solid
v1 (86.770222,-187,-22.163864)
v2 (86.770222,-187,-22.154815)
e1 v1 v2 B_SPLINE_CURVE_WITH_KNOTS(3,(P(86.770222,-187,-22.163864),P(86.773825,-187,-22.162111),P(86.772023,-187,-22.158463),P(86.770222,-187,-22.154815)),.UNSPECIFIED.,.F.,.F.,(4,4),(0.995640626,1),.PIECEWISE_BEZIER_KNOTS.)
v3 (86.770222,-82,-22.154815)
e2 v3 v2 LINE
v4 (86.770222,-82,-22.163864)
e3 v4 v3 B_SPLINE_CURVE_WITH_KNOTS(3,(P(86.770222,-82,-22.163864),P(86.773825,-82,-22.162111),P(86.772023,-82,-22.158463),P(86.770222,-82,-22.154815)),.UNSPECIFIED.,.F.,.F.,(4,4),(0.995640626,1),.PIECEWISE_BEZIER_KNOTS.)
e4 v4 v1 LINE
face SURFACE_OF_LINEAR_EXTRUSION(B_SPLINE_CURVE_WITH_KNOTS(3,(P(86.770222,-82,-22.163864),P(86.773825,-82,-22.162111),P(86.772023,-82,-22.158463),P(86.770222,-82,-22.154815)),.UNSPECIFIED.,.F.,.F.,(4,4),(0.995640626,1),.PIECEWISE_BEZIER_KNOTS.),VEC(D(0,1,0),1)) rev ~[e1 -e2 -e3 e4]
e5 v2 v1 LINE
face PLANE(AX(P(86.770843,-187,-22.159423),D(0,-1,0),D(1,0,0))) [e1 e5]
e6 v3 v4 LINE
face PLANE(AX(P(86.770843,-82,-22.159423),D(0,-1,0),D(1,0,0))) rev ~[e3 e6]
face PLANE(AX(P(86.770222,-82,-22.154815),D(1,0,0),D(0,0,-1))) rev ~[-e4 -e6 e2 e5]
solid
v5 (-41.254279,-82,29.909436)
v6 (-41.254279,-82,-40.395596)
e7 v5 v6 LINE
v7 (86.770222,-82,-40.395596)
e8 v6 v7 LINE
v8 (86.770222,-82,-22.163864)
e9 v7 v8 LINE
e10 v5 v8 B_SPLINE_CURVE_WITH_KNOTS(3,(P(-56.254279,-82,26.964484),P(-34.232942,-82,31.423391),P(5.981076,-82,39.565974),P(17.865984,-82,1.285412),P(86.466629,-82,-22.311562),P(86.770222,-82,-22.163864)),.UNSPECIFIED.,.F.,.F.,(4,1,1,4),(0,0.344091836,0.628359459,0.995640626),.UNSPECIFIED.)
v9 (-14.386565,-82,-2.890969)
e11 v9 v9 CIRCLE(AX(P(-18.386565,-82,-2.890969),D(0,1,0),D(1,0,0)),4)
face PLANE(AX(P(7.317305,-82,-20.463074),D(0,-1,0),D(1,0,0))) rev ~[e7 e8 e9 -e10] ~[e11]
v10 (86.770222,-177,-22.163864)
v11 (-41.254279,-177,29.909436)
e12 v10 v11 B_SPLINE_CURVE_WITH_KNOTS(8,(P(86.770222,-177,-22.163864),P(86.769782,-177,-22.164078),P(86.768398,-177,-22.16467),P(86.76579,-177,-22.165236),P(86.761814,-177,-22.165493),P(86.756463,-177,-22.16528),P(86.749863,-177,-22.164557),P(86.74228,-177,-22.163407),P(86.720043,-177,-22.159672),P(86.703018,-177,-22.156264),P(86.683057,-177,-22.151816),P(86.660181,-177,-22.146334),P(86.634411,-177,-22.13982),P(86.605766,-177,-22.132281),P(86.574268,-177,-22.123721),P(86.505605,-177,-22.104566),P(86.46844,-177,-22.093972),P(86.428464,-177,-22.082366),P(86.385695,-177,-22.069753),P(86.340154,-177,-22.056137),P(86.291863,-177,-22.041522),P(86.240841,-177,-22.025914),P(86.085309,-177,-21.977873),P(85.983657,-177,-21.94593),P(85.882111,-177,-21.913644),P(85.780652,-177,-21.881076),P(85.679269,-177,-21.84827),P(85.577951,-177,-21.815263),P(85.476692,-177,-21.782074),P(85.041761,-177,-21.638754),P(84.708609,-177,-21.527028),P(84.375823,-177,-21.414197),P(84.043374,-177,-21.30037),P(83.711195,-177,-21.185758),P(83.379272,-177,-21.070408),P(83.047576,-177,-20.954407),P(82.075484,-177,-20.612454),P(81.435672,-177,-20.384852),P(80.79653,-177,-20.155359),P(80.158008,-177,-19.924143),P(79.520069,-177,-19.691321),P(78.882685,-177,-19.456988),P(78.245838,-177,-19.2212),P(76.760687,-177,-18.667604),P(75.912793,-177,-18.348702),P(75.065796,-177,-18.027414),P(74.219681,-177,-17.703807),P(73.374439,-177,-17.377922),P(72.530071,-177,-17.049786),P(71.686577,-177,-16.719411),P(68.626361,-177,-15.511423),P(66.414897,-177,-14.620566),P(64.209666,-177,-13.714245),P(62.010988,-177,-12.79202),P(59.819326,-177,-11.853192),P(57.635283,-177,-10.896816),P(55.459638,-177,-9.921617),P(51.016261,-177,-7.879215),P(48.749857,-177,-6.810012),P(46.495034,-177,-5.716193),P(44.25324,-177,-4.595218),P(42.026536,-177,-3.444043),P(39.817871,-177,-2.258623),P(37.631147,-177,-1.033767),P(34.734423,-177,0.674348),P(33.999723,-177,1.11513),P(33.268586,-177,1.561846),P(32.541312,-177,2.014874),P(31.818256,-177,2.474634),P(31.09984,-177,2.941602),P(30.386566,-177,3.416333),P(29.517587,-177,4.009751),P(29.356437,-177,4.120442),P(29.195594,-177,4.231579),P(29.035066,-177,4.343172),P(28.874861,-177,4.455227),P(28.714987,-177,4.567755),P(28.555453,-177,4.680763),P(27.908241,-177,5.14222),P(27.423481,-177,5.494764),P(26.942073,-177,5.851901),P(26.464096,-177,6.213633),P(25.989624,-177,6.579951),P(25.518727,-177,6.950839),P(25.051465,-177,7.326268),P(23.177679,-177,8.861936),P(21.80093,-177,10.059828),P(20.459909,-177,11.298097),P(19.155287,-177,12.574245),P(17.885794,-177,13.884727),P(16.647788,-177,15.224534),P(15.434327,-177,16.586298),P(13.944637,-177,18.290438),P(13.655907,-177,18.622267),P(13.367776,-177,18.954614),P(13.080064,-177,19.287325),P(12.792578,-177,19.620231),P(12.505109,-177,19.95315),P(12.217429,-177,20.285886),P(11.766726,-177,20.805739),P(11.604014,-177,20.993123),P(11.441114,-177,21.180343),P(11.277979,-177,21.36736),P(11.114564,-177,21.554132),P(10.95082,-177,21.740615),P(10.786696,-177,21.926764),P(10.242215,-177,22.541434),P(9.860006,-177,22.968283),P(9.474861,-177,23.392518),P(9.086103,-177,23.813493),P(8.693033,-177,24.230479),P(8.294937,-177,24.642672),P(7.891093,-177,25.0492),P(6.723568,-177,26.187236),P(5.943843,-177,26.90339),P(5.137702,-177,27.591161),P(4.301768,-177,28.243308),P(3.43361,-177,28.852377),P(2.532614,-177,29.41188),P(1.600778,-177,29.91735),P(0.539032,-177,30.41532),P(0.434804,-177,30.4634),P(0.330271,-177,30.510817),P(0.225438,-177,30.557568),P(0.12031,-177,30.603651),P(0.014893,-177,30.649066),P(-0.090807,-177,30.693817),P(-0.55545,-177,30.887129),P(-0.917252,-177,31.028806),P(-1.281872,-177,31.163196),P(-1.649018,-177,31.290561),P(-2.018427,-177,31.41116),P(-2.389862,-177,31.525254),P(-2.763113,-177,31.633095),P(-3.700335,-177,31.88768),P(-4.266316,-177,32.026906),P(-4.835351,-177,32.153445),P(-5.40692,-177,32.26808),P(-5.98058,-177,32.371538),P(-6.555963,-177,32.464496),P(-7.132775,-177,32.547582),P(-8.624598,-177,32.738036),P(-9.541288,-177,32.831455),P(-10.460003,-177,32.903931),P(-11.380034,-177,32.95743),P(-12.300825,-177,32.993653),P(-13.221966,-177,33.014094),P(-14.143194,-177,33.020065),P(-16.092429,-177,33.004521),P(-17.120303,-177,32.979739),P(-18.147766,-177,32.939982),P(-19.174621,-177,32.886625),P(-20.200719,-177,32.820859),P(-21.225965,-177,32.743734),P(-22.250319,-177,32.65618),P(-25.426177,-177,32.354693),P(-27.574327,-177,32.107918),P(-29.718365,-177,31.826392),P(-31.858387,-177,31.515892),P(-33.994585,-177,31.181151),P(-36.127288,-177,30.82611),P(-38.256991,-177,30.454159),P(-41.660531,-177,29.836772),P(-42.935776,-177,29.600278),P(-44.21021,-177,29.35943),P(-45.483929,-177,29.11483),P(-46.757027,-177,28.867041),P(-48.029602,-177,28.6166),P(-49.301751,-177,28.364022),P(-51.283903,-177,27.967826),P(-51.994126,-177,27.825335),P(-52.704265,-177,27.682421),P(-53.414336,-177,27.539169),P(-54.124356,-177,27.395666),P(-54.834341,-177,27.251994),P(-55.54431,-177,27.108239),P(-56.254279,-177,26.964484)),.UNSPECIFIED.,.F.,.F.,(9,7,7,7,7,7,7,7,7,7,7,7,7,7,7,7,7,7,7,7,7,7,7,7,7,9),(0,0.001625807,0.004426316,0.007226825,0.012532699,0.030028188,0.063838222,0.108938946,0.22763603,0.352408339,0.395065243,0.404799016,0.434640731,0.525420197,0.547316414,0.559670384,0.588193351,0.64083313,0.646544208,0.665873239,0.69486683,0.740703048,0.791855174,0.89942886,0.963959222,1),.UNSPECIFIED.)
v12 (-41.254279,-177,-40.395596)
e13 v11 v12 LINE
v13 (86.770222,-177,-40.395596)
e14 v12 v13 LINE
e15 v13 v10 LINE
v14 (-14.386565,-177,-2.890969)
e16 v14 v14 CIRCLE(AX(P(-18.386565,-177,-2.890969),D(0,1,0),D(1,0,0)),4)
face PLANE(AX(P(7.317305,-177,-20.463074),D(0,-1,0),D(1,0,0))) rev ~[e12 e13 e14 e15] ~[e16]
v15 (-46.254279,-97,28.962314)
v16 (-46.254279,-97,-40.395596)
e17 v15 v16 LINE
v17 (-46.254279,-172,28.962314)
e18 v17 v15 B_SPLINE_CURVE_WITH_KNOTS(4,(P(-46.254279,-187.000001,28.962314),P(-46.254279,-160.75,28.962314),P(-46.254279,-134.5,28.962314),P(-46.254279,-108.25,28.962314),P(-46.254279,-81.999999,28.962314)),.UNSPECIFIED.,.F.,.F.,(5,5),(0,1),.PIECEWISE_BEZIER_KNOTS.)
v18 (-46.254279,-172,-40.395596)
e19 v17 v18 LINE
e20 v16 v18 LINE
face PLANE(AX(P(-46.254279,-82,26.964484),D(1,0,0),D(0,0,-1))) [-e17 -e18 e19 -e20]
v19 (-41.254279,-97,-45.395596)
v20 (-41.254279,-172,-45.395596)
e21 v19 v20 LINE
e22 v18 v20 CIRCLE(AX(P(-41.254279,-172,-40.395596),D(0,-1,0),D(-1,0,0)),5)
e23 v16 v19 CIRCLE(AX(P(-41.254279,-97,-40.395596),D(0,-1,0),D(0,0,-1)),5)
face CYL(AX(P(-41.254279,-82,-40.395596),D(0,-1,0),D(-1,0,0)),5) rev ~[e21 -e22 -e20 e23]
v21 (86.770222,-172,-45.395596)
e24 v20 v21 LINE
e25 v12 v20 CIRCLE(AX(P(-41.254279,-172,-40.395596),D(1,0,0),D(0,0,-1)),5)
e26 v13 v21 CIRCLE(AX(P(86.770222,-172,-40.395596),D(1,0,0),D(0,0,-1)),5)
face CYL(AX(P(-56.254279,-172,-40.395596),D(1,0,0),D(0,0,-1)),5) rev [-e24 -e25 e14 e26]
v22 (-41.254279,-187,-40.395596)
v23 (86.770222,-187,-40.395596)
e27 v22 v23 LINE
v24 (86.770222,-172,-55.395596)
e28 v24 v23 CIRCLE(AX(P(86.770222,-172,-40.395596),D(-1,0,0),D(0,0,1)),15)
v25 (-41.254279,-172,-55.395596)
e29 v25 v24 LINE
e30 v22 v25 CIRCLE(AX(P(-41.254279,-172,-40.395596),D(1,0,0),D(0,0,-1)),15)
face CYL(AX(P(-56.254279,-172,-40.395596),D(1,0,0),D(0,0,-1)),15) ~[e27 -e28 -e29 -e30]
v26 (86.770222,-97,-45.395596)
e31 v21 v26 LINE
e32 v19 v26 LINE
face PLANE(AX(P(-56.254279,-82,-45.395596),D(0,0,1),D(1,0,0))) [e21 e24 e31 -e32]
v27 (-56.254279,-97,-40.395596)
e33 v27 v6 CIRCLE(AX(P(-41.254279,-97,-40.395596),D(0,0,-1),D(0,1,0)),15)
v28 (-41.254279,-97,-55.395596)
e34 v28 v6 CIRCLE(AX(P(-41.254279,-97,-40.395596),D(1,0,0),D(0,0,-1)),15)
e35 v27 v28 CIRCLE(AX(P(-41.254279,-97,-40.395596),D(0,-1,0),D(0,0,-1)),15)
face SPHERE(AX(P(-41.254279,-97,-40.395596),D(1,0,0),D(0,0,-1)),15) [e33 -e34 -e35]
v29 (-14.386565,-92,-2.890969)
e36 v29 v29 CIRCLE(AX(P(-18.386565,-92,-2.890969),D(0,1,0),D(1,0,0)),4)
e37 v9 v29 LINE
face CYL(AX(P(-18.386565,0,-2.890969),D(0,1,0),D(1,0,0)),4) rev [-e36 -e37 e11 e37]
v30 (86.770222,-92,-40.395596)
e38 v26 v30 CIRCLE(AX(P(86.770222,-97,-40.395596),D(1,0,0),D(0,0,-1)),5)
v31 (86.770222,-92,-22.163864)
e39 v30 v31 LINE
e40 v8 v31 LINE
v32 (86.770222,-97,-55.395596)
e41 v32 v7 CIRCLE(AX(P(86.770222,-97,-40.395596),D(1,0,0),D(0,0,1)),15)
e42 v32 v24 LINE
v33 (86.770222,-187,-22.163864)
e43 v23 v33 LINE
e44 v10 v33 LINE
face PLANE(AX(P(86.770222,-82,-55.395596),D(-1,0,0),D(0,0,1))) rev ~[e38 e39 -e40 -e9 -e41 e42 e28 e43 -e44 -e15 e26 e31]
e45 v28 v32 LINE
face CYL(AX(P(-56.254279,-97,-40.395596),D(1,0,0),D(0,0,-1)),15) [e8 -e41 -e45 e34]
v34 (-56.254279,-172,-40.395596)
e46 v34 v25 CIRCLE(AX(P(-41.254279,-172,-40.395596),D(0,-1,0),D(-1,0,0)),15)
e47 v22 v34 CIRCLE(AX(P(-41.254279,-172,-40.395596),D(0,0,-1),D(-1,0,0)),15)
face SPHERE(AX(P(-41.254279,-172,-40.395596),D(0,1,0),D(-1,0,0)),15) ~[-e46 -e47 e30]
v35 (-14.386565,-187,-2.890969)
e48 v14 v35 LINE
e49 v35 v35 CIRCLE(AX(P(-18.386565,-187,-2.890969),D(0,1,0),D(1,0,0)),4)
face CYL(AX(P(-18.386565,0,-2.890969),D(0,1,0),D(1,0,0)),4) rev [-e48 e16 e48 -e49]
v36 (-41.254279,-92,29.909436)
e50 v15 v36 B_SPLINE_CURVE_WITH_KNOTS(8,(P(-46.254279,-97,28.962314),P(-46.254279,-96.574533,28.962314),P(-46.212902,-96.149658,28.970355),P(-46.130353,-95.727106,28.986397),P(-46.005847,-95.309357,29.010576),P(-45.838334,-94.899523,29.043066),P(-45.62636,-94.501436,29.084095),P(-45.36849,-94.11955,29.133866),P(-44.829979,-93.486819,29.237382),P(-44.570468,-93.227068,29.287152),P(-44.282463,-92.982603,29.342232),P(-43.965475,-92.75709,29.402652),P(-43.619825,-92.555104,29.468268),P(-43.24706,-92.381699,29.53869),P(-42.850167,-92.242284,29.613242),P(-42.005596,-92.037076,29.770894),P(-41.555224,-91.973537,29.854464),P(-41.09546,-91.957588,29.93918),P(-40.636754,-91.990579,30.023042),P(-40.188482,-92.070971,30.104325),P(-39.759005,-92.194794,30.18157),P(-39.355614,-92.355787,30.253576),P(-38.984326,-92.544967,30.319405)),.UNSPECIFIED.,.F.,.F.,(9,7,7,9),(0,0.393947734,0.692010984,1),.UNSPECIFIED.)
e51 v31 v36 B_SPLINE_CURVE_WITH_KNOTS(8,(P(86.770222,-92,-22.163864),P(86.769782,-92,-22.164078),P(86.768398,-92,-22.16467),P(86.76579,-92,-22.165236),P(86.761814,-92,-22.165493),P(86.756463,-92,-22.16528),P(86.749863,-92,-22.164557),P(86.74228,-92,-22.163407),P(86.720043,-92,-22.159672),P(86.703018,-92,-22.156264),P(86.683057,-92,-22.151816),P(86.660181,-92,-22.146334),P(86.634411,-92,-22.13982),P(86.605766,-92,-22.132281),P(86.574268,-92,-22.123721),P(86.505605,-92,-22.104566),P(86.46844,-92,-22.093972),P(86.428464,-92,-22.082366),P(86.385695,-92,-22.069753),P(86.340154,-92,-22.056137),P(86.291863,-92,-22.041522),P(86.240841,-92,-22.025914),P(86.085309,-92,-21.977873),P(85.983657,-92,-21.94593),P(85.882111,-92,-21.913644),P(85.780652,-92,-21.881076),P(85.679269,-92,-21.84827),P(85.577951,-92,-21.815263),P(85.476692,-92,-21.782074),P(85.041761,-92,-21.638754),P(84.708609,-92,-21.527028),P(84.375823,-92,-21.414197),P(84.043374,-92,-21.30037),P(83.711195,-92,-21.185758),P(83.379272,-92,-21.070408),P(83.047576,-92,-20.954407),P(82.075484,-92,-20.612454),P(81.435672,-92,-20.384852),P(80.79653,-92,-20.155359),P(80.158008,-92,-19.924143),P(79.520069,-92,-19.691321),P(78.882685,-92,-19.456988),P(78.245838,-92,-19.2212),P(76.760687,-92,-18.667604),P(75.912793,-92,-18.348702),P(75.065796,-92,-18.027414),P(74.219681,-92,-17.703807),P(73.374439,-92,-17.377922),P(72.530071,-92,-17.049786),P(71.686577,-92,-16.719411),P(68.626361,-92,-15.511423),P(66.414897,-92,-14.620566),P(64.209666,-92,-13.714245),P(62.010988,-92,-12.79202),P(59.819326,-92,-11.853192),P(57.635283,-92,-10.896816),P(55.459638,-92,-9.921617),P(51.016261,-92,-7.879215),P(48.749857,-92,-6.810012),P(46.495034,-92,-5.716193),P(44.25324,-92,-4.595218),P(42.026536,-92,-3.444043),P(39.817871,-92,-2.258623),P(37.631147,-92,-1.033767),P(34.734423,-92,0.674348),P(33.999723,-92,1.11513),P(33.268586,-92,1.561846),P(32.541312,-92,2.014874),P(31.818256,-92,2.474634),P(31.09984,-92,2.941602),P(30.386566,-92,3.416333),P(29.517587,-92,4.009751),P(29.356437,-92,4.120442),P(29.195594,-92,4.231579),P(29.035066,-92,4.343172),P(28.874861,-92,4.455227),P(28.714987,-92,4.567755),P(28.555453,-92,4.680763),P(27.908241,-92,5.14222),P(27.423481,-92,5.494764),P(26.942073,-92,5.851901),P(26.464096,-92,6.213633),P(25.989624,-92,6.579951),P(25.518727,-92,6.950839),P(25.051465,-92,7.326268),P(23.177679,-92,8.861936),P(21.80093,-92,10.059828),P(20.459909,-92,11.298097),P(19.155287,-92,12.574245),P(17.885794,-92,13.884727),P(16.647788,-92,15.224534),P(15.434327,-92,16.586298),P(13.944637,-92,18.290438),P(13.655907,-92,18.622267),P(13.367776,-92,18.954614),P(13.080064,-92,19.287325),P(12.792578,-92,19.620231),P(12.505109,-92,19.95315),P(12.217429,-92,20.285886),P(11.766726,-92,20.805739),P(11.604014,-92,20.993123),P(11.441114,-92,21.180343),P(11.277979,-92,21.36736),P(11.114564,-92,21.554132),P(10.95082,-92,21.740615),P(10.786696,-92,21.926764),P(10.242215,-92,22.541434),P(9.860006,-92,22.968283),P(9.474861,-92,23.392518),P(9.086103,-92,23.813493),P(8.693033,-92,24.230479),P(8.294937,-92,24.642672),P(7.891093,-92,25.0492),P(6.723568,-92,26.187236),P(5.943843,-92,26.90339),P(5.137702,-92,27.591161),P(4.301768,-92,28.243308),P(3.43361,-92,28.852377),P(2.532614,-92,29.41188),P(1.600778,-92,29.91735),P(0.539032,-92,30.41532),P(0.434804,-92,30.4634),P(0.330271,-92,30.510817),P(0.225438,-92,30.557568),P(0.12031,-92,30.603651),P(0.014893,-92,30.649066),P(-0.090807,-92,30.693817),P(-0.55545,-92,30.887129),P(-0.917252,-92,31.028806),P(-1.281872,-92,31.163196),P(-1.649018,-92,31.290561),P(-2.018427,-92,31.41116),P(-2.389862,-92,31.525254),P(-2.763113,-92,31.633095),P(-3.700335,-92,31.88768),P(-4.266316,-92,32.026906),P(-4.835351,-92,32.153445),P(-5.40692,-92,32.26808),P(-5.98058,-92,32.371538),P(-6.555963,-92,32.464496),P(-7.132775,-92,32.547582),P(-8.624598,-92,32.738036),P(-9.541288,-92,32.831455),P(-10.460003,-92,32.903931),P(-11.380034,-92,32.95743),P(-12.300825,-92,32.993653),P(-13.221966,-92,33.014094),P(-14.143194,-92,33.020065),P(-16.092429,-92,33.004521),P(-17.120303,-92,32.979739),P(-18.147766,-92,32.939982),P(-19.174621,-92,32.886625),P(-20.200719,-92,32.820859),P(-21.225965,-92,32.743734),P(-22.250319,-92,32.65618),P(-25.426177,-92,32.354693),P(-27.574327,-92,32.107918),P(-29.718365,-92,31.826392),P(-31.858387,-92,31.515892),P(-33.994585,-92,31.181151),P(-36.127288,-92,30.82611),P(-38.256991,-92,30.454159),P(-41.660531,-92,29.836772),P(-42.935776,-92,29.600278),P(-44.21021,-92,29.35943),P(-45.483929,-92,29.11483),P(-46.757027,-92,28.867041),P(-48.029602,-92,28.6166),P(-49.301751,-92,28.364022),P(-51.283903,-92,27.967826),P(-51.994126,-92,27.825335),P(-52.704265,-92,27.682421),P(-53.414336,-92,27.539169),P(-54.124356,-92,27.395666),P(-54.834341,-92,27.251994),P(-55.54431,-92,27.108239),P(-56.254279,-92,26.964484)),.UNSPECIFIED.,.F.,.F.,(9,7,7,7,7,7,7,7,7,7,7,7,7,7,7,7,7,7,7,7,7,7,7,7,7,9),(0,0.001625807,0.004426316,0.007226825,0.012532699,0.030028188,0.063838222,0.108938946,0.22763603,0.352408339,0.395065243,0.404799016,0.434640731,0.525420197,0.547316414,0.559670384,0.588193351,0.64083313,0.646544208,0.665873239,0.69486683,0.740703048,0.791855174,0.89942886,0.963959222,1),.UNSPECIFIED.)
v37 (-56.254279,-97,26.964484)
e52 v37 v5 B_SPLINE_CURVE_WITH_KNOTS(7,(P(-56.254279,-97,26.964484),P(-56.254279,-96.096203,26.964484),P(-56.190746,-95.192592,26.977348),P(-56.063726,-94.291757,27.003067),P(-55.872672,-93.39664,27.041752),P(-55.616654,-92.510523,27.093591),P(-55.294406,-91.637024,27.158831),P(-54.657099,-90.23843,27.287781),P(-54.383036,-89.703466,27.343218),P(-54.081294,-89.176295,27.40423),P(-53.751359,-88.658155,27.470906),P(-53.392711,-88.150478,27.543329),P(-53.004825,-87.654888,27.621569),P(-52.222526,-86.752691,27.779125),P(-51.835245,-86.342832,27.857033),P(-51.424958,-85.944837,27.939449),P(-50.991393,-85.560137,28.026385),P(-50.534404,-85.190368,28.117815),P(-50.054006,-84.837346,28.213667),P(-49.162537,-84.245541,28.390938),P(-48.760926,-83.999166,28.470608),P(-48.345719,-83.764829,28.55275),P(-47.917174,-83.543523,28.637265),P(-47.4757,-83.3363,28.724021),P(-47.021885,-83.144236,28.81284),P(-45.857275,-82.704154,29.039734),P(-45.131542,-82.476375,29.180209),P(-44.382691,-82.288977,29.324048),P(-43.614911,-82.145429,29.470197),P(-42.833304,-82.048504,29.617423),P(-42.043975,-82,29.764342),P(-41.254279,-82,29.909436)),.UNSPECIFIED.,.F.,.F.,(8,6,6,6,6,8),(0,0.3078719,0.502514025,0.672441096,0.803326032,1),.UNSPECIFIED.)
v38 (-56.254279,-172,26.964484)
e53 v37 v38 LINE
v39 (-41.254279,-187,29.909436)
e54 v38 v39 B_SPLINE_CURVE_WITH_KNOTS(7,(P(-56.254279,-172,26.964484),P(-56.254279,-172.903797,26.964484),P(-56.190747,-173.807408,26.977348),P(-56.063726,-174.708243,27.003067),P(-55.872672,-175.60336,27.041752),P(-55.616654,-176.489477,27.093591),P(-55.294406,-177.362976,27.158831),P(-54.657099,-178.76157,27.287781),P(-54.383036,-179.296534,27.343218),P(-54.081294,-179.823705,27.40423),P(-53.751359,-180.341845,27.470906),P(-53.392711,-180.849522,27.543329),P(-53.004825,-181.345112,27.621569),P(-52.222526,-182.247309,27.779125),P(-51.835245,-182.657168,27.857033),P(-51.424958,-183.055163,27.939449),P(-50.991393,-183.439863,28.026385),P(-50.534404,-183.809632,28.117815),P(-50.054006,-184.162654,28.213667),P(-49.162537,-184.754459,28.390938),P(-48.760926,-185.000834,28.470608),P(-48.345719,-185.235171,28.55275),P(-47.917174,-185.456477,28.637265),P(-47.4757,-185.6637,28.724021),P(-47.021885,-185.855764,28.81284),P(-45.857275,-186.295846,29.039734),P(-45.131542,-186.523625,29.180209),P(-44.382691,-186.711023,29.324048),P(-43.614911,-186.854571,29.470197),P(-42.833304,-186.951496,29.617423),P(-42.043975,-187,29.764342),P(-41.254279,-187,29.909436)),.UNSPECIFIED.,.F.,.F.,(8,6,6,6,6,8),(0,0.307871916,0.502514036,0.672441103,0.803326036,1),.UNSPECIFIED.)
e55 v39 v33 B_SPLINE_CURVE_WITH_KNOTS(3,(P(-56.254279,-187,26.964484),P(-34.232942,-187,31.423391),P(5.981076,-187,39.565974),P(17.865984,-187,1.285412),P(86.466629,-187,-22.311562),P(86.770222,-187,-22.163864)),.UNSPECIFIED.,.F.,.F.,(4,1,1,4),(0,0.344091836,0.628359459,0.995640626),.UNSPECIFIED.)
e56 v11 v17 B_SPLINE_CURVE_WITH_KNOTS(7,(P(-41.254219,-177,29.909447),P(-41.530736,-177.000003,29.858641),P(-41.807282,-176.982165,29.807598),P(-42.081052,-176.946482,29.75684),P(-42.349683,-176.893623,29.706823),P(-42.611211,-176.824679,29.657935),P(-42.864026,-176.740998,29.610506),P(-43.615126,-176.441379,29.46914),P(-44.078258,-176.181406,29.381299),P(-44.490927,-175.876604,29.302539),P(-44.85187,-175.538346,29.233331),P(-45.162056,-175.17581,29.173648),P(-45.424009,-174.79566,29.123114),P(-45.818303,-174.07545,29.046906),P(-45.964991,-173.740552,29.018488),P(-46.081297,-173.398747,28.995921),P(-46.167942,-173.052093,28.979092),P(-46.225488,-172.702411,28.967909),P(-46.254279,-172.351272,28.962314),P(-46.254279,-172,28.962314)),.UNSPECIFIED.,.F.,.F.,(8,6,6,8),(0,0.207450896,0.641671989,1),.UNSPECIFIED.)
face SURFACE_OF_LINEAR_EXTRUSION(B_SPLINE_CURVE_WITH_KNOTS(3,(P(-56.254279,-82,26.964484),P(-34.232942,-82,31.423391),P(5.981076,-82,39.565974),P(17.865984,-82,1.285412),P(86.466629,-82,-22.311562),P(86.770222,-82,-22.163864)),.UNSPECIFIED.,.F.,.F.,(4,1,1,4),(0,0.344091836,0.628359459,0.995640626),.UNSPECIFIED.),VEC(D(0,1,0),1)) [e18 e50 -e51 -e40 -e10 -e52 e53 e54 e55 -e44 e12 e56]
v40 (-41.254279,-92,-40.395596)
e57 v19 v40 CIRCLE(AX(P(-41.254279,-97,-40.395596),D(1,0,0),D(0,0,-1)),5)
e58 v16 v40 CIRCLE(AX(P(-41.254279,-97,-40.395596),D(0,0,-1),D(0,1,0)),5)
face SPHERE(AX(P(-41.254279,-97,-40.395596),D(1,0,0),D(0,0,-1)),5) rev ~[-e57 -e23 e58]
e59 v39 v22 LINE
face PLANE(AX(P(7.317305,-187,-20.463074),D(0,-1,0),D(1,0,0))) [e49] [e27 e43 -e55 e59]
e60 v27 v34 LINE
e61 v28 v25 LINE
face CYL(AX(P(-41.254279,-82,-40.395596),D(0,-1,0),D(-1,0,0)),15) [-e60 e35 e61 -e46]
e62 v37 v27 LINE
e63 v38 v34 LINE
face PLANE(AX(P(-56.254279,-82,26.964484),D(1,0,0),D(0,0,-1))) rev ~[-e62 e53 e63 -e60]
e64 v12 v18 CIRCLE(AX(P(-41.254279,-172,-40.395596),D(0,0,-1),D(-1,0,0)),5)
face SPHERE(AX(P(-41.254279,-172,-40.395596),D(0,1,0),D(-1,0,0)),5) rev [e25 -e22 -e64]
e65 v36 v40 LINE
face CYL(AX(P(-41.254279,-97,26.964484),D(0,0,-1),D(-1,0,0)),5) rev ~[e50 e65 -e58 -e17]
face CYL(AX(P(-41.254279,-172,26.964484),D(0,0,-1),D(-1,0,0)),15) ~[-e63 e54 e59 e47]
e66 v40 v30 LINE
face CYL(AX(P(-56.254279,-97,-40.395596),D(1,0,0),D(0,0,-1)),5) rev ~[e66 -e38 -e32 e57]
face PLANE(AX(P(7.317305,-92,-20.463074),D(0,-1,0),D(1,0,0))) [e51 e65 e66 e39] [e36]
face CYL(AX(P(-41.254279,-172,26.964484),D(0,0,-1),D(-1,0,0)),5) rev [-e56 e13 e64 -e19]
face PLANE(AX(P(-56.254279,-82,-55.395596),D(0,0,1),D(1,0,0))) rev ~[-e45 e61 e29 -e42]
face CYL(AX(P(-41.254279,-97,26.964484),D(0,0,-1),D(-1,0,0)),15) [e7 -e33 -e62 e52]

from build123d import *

# Parameters (mm, degrees)
F0_W      = 181.1920106411
F0_H      = 121.440127492
F1_W      = 181.1920106411
F1_H      = 121.440127492
F2_DEPTH  = 82
F5_DEPTH  = 209
F8_DEPTH  = 105
F9_R      = 15
F10_T     = -10
F11_R     = 4
F12_DEPTH = 268.2


with BuildPart() as f2:
    # F0 (on Front) + F1 (on face) → F2 (new body)
    with BuildSketch(Plane.XZ):
        with Locations((10.5488449335, -5.8489441872)):
            Rectangle(F0_W, F0_H)
    with BuildSketch(Plane.XZ):
        with Locations((10.5488449335, -5.8489441872)):
            Rectangle(F1_W, F1_H)
    extrude(amount=F2_DEPTH)

    # F4 (on face) → F5 (join)
    with BuildSketch(Plane.XZ.offset(82)):
        with BuildLine():
            Line((-80.047160387, 54.8711195588), (-80.047160387, 12.102574383))
            add(Edge.make_bspline(
                [(-80.047160387, 12.102574383), (-70.4971089469, 11.9061403052), (-39.6127942717, 12.7311162872), (29.479142249, 30.8370307532), (60.6292976536, 2.7028222501), (91.9197032948, -7.0131442177), (101.1448502541, -8.4251729885)],
                knots=[0.0791598256, 0.0791598256, 0.0791598256, 0.0791598256, 0.1972348943, 0.4390023152, 0.6391301786, 0.7370696165, 0.7370696165, 0.7370696165, 0.7370696165], degree=3))
            Line((101.1448502541, -8.4251729885), (101.1448502541, 54.8711195588))
            Line((101.1448502541, 54.8711195588), (-80.047160387, 54.8711195588))
        make_face()
    extrude(amount=-F5_DEPTH)


with BuildPart() as f8:
    # F7 (on face) → F8 (new body)
    with BuildSketch(Plane.XZ.offset(82)):
        with BuildLine():
            Line((-56.2542788684, 26.9644837826), (-56.2542788684, -55.3955957294))
            Line((-56.2542788684, -55.3955957294), (86.770221591, -55.3955957294))
            Line((86.770221591, -55.3955957294), (86.770221591, -22.1638642251))
            add(Edge.make_bspline(
                [(-56.2542788684, 26.9644837826), (-34.2329421874, 31.4233907779), (5.9810755531, 39.5659739285), (17.8659842809, 1.2854122459), (86.4666290083, -22.3115618205), (86.770221591, -22.1638642251)],
                knots=[0, 0, 0, 0, 0.3440918363, 0.6283594593, 0.9956406258, 0.9956406258, 0.9956406258, 0.9956406258], degree=3))
        make_face()
    extrude(amount=F8_DEPTH)

    # F9
    f9_edges = [f8.edges().sort_by_distance(p)[0] for p in [
        (15.257971, -82, -55.395596),
        (-56.254279, -134.5, -55.395596),
        (-56.254279, -82, -14.215556),
        (-56.254279, -187, -14.215556),
        (15.257971, -187, -55.395596),
    ]]
    fillet(f9_edges, radius=F9_R)

    # F10
    f10_openings = [f8.faces().sort_by_distance(p)[0] for p in [
        (13.383093, -134.5, 18.937689),
        (86.770222, -134.5, -38.402148),
    ]]
    offset(amount=F10_T, openings=f10_openings, kind=Kind.INTERSECTION)

    # F11 (on Front) → F12 (cut)
    with BuildSketch(Plane.XZ):
        with Locations((-18.3865651488, -2.8909693938)):
            Circle(F11_R)
    extrude(amount=F12_DEPTH, mode=Mode.SUBTRACT)


with BuildPart() as f8b:
    # F7 (on face) → F8, piece 2 (new body)
    with BuildSketch(Plane.XZ.offset(82)):
        with BuildLine():
            Line((86.770221591, -22.154815495), (86.770221591, -22.1638642251))
            add(Edge.make_bspline(
                [(86.770221591, -22.1638642251), (86.7738250256, -22.1621111565), (86.7720233083, -22.1584633258), (86.770221591, -22.154815495)],
                knots=[0.9956406258, 0.9956406258, 0.9956406258, 0.9956406258, 1, 1, 1, 1], degree=3))
        make_face()
    extrude(amount=F8_DEPTH)


solid = Compound([f8.part, f8b.part])
